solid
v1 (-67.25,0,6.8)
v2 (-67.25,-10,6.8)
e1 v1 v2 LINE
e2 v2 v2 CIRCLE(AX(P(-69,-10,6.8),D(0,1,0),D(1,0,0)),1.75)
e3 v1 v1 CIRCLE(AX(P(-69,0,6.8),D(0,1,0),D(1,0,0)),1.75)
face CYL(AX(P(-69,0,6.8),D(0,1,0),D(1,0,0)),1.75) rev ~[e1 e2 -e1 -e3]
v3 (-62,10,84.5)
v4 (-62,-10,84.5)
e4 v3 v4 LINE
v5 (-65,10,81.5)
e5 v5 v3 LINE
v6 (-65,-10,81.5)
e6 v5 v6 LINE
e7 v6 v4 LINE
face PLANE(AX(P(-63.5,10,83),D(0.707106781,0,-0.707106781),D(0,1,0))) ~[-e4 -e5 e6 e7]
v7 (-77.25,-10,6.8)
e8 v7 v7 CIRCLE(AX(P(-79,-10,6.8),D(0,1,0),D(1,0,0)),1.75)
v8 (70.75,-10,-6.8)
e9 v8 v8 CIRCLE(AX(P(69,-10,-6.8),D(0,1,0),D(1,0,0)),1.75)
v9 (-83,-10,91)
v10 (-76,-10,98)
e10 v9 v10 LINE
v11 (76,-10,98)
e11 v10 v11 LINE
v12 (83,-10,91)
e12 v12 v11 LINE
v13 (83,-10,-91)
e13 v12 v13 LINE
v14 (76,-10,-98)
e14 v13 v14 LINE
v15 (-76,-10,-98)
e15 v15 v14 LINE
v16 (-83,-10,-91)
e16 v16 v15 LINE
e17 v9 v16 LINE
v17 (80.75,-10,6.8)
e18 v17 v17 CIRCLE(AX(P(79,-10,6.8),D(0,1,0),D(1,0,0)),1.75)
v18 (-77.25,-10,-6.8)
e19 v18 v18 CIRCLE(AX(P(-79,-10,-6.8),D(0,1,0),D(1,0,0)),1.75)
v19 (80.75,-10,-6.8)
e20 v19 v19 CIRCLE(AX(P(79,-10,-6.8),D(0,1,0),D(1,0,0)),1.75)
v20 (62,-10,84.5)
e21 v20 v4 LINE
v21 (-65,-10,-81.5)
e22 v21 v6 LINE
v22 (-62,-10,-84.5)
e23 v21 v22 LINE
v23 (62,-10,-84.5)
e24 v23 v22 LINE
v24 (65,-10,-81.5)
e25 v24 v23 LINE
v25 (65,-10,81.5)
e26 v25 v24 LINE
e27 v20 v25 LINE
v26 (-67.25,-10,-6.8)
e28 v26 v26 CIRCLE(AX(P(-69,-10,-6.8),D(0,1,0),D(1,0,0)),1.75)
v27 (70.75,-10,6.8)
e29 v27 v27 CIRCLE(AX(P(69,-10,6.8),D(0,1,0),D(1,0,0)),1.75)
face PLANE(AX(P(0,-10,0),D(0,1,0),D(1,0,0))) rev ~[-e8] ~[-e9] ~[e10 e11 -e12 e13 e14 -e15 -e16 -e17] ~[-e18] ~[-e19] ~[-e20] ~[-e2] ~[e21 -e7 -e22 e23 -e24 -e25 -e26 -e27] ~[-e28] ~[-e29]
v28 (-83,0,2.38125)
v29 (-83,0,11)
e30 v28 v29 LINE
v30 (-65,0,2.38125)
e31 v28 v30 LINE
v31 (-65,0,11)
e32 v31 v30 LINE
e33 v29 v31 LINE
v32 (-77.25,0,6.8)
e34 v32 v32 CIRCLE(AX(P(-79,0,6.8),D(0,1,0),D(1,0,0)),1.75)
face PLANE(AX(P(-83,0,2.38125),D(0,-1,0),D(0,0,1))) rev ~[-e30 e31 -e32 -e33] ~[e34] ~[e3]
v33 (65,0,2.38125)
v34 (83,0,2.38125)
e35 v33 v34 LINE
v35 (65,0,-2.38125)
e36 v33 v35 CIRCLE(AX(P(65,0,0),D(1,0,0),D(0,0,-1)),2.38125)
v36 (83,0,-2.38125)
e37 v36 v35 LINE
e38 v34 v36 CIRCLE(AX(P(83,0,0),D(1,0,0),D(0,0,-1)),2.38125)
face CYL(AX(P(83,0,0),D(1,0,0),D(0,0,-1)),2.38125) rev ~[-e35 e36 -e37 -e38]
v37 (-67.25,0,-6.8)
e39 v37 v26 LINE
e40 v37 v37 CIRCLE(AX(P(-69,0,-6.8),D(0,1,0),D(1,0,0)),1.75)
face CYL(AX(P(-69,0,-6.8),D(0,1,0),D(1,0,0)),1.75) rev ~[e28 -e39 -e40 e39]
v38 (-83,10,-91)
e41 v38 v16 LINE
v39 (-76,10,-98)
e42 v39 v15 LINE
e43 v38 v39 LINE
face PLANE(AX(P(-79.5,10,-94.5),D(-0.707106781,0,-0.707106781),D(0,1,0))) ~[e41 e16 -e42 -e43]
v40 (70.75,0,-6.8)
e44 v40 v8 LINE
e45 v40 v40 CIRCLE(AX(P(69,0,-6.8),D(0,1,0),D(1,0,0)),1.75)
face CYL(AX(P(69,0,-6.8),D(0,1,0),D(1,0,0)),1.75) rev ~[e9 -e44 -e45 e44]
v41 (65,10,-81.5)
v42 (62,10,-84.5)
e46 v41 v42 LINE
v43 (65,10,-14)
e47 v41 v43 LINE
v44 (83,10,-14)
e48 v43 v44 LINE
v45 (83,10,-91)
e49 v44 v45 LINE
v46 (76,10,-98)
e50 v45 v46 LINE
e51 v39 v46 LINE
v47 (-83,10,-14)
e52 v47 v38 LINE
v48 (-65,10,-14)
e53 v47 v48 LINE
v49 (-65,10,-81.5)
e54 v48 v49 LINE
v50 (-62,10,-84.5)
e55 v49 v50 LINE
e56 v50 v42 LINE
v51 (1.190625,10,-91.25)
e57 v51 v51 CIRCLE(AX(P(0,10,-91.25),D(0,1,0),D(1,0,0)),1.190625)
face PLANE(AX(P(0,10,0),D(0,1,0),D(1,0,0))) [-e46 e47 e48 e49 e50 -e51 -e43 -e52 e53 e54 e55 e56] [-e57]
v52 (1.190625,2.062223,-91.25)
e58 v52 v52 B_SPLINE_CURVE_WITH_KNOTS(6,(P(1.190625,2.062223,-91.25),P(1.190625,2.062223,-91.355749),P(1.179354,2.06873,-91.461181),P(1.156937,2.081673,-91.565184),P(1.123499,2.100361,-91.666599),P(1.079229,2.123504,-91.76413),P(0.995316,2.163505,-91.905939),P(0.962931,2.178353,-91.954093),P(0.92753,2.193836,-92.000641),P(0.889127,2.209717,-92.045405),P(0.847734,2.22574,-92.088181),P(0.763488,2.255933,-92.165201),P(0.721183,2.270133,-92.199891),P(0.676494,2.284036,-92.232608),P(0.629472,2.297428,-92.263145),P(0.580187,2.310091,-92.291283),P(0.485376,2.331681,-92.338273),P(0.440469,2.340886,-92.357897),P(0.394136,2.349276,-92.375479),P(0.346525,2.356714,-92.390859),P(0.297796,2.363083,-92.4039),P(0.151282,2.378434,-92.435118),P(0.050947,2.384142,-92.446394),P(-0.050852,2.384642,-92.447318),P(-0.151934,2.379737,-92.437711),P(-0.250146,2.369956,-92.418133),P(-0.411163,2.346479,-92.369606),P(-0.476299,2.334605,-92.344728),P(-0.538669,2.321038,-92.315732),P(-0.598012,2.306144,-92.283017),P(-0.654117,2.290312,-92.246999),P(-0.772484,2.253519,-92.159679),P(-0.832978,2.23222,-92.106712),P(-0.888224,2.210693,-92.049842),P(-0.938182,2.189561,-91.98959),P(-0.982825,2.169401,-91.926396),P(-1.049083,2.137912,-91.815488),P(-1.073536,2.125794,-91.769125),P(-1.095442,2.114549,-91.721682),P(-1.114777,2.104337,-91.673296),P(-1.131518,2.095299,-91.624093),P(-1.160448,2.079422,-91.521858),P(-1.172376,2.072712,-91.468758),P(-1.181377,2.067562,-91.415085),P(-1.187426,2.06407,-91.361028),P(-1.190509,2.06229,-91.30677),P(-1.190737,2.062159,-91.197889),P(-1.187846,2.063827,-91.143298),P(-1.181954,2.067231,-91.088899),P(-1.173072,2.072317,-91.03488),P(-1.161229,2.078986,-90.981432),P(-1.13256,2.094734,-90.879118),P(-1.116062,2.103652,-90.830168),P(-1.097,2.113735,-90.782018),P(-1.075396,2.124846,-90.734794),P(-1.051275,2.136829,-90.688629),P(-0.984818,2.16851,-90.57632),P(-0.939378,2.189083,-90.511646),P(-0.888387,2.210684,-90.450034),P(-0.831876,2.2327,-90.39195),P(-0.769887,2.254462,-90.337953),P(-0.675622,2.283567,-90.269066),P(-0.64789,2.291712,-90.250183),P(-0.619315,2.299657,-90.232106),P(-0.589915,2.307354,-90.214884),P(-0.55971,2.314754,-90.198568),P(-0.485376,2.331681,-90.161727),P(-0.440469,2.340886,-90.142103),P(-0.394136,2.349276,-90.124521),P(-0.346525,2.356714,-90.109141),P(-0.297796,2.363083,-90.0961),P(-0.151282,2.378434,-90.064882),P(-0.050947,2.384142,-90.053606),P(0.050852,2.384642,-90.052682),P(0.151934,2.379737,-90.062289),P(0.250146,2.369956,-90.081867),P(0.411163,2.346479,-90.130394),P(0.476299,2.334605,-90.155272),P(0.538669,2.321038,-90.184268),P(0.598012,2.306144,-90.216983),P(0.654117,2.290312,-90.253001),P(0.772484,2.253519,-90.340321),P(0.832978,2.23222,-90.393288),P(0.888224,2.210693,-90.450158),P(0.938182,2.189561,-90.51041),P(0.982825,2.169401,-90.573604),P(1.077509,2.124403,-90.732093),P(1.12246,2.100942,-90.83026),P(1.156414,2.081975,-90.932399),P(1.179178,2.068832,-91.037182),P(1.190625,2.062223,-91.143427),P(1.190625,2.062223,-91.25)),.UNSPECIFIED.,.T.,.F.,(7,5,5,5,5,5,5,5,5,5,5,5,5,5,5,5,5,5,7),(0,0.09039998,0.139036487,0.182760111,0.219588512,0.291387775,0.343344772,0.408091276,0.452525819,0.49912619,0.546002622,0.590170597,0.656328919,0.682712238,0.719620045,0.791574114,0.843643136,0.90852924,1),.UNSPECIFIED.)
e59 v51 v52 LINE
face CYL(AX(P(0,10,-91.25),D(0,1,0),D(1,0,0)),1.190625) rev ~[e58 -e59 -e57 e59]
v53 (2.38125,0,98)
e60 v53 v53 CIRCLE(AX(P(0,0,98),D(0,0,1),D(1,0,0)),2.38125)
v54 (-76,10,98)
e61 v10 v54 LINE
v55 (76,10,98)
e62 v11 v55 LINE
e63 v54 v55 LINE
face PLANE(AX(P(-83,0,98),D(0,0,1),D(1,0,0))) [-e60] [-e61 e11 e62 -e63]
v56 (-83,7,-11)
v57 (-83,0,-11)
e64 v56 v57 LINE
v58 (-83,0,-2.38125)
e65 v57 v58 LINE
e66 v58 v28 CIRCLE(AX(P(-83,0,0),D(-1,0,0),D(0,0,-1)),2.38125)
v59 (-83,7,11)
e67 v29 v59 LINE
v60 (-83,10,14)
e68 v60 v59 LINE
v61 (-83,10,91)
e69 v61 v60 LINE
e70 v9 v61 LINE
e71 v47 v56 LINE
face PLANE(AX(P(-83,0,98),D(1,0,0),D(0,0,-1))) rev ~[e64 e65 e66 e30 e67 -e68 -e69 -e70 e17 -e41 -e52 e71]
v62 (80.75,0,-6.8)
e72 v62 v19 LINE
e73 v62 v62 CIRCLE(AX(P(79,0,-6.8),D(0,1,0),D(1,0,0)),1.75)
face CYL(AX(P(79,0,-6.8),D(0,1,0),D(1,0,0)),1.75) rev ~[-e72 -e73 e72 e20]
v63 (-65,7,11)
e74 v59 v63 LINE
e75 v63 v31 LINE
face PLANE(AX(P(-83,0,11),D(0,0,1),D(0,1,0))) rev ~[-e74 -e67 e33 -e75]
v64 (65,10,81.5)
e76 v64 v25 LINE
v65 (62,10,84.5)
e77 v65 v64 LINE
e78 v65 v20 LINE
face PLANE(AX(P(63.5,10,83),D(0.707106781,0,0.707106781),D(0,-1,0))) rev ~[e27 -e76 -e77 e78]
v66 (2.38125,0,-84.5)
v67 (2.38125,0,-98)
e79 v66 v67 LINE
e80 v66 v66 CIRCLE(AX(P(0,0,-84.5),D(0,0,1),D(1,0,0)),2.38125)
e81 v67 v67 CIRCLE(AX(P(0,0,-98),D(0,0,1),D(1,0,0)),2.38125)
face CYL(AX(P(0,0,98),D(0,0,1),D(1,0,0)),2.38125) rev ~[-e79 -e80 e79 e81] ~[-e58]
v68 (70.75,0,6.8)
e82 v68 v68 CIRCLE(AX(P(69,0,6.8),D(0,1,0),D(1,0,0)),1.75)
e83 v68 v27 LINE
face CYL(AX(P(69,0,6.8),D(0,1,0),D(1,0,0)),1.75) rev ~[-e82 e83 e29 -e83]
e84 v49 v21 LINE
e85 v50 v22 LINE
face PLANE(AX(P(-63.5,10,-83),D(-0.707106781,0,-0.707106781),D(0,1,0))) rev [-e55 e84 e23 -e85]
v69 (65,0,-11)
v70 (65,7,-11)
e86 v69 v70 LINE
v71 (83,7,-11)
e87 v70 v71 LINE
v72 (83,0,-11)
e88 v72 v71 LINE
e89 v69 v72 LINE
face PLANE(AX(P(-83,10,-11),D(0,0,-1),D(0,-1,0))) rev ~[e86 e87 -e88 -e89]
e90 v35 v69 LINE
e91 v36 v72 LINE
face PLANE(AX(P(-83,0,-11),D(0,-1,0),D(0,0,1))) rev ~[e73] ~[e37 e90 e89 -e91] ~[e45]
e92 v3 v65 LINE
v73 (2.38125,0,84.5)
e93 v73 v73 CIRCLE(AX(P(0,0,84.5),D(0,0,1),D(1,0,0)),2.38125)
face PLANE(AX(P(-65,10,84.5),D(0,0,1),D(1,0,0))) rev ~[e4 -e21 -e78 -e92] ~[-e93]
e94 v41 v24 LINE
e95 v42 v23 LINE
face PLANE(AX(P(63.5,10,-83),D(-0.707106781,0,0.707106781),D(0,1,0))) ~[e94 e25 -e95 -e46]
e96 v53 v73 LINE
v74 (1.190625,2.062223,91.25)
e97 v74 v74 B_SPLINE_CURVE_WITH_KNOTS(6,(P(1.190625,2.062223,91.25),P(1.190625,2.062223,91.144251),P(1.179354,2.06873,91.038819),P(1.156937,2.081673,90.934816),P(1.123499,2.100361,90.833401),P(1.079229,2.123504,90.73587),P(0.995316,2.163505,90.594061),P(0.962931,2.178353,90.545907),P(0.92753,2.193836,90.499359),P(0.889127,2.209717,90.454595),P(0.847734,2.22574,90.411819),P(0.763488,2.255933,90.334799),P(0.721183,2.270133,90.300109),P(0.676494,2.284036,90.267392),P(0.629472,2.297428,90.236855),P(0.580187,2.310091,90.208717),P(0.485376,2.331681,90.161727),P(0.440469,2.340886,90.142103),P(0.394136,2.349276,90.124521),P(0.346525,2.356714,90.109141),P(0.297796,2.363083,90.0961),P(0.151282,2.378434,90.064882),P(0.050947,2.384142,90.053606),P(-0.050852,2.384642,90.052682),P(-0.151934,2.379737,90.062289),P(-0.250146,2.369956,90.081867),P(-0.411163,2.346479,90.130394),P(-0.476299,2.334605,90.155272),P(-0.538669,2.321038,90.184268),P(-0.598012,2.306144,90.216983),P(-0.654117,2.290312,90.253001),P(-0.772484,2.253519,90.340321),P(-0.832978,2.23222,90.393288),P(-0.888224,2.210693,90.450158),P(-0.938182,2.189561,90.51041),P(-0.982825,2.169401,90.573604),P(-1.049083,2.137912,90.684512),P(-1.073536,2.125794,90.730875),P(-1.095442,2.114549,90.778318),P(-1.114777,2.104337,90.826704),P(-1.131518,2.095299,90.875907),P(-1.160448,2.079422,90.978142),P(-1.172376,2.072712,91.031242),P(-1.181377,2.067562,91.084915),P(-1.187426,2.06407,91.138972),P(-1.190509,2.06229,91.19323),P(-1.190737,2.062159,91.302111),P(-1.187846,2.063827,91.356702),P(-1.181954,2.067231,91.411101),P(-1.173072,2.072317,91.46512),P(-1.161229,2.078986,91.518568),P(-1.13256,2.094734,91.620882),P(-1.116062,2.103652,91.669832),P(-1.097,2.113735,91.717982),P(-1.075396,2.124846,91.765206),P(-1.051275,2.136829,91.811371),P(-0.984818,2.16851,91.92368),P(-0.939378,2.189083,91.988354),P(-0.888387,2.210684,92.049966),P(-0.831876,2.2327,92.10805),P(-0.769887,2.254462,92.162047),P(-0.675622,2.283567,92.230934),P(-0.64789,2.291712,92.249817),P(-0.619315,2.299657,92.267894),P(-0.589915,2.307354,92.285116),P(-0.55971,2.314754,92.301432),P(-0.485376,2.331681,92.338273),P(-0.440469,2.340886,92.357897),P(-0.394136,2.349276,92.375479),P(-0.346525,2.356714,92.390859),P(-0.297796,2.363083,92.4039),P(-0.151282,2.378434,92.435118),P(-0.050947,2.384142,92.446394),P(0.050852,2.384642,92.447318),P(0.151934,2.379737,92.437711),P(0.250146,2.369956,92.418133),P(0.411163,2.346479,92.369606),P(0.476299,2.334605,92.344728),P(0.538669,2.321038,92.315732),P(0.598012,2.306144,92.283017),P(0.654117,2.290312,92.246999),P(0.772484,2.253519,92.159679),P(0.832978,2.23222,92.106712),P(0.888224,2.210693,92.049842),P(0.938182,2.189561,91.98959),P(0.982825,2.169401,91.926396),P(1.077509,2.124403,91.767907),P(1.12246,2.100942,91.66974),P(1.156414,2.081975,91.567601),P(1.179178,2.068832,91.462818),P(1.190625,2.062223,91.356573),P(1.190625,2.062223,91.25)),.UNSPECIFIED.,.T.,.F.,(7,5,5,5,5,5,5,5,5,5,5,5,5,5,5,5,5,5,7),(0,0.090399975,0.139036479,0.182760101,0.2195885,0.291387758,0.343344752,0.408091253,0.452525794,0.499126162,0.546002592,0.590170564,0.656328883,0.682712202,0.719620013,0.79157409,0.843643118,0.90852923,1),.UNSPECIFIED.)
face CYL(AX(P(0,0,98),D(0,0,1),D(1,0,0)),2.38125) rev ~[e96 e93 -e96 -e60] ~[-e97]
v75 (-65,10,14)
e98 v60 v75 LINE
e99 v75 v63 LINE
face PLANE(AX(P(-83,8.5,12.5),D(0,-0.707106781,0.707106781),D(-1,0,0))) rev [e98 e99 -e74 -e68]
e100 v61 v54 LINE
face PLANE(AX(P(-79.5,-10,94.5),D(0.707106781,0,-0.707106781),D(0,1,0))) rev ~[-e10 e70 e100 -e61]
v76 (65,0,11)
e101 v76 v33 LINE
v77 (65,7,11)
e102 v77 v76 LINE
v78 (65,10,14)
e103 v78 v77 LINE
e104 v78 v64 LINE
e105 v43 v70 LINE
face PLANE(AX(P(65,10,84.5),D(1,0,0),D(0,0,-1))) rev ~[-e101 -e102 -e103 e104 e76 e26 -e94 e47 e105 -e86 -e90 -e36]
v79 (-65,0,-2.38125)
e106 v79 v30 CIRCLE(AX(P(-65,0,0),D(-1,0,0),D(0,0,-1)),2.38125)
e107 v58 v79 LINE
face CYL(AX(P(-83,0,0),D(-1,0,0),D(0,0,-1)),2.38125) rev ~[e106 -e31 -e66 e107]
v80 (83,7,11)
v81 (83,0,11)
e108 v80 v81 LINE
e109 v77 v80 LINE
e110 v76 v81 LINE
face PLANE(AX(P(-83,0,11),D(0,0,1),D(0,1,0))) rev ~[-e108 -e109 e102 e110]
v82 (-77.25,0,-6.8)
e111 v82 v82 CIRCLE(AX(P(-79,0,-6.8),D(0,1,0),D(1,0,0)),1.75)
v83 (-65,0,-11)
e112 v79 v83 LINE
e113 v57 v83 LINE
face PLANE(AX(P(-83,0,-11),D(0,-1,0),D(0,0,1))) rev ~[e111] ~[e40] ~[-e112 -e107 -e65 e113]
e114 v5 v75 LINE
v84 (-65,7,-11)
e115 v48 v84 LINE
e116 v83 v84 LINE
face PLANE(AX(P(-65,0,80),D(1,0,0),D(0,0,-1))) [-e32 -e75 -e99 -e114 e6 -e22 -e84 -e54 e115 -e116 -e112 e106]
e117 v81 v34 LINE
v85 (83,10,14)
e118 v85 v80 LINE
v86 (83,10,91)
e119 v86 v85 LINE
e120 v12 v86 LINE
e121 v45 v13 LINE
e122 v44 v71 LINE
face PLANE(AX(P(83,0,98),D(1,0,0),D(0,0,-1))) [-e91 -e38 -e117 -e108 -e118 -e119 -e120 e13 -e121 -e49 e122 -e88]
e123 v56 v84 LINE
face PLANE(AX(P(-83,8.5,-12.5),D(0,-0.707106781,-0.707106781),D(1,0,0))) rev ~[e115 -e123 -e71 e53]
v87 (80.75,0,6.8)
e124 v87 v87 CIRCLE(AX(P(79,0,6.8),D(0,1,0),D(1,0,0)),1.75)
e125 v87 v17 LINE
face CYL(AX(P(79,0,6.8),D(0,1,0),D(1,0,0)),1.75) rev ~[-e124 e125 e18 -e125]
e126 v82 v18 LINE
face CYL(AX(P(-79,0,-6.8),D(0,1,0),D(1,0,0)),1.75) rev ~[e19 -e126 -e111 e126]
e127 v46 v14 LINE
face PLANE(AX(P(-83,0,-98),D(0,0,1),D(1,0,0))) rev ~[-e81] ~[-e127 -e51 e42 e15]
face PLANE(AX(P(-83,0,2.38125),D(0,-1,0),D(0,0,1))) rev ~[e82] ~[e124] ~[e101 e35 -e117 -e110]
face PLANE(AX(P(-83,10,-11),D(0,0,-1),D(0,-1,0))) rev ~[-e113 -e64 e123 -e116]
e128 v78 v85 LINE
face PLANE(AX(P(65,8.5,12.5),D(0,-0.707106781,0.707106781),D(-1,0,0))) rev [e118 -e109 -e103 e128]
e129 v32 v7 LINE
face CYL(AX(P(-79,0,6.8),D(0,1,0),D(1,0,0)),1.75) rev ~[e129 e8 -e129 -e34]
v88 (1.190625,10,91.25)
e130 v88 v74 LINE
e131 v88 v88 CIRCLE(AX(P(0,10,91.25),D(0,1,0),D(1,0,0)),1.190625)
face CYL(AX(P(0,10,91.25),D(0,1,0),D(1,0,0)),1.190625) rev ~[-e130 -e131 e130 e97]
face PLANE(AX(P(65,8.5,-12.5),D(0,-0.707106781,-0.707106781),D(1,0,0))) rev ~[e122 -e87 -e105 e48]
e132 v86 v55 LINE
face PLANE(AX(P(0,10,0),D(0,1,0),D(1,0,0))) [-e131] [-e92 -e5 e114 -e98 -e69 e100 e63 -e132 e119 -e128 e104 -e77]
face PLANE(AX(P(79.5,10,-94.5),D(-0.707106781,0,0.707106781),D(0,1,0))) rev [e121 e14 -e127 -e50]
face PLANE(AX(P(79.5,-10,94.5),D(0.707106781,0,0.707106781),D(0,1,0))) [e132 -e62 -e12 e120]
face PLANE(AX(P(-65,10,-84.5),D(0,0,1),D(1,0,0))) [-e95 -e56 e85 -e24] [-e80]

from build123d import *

# Parameters (mm, degrees)
SKETCH1_W               = 166
SKETCH1_H               = 196
SKETCH1_W_2             = 130
SKETCH1_H_2             = 160
BOSS_EXTRUDE1_DEPTH     = 10
CUT_EXTRUDE1_REACH      = 168
SKETCH2_R               = 2.38125
CUT_EXTRUDE2_DEPTH      = 167
SKETCH5_R               = 2.38125
CUT_EXTRUDE4_DEPTH      = 1
CUT_EXTRUDE4_DEPTH_BACK = 197
CUT_EXTRUDE5_REACH      = 12
SKETCH6_R               = 1.75
CUT_EXTRUDE7_REACH      = 22
SKETCH8_W               = 130
SKETCH8_H               = 4.5
CHAMFER9_SIZE           = 7
CHAMFER10_SIZE          = 3
CUT_EXTRUDE8_REACH      = 22
SKETCH9_R               = 1.190625
CHAMFER11_SIZE          = 3


with BuildPart() as part:
    # Sketch1 → Boss-Extrude1 (new body, symmetric)
    with BuildSketch(Plane(origin=(0, 0, 0), x_dir=(1, 0, 0), z_dir=(0, 1, 0))):
        Rectangle(SKETCH1_W, SKETCH1_H)
        Rectangle(SKETCH1_W_2, SKETCH1_H_2, mode=Mode.SUBTRACT)
    extrude(amount=BOSS_EXTRUDE1_DEPTH, both=True)

    # Sketch2 → Cut-Extrude1 (cut, up to next)
    with BuildSketch(Plane(origin=(83, 0, 0), x_dir=(0, 0, -1), z_dir=(1, 0, 0)), mode=Mode.PRIVATE) as cut_extrude1_sk1:
        Circle(SKETCH2_R)
    cut_extrude1_tool1 = extrude(cut_extrude1_sk1.sketch, amount=-CUT_EXTRUDE1_REACH, mode=Mode.PRIVATE) & part.part
    add(cut_extrude1_tool1.solids().sort_by_distance((83, 0, 0))[0], mode=Mode.SUBTRACT)

    # Sketch3 → Cut-Extrude2 (cut, through all)
    with BuildSketch(Plane.ZY.offset(83)):
        with BuildLine():
            ThreePointArc((-2.38125, 0), (0, 2.38125), (2.38125, 0))
            Line((2.38125, 0), (11, 0))
            Line((11, 0), (11, 10))
            Line((11, 10), (-11, 10))
            Line((-11, 10), (-11, 0))
            Line((-11, 0), (-2.38125, 0))
        make_face()
        with BuildLine():
            ThreePointArc((-2.38125, 0), (0, -2.38125), (2.38125, 0))
            Line((2.38125, 0), (-2.38125, 0))
        make_face()
        with BuildLine():
            Line((-2.38125, 0), (2.38125, 0))
            ThreePointArc((2.38125, 0), (0, 2.38125), (-2.38125, 0))
        make_face()
    extrude(amount=-CUT_EXTRUDE2_DEPTH, mode=Mode.SUBTRACT)

    # Sketch5 → Cut-Extrude4 (cut, two sides)
    with BuildSketch(Plane.XY.offset(98)) as cut_extrude4_sk:
        Circle(SKETCH5_R)
    extrude(amount=CUT_EXTRUDE4_DEPTH, mode=Mode.SUBTRACT)
    extrude(cut_extrude4_sk.sketch, amount=-CUT_EXTRUDE4_DEPTH_BACK, mode=Mode.SUBTRACT)

    # Sketch6 → Cut-Extrude5 (cut, up to next)
    with BuildSketch(Plane(origin=(0, 0, 0), x_dir=(1, 0, 0), z_dir=(0, 1, 0)), mode=Mode.PRIVATE) as cut_extrude5_sk1:
        with Locations((-69, 6.8)):
            Circle(SKETCH6_R)
    cut_extrude5_tool1 = extrude(cut_extrude5_sk1.sketch, amount=-CUT_EXTRUDE5_REACH, mode=Mode.PRIVATE) & part.part
    add(cut_extrude5_tool1.solids().sort_by_distance((-69, 0, -6.8))[0], mode=Mode.SUBTRACT)
    # Sketch6 → Cut-Extrude5 (cut, up to next)
    with BuildSketch(Plane(origin=(0, 0, 0), x_dir=(1, 0, 0), z_dir=(0, 1, 0)), mode=Mode.PRIVATE) as cut_extrude5_sk2:
        with Locations((-69, -6.8)):
            Circle(SKETCH6_R)
    cut_extrude5_tool2 = extrude(cut_extrude5_sk2.sketch, amount=-CUT_EXTRUDE5_REACH, mode=Mode.PRIVATE) & part.part
    add(cut_extrude5_tool2.solids().sort_by_distance((-69, 0, 6.8))[0], mode=Mode.SUBTRACT)
    # Sketch6 → Cut-Extrude5 (cut, up to next)
    with BuildSketch(Plane(origin=(0, 0, 0), x_dir=(1, 0, 0), z_dir=(0, 1, 0)), mode=Mode.PRIVATE) as cut_extrude5_sk3:
        with Locations((-79, -6.8)):
            Circle(SKETCH6_R)
    cut_extrude5_tool3 = extrude(cut_extrude5_sk3.sketch, amount=-CUT_EXTRUDE5_REACH, mode=Mode.PRIVATE) & part.part
    add(cut_extrude5_tool3.solids().sort_by_distance((-79, 0, 6.8))[0], mode=Mode.SUBTRACT)
    # Sketch6 → Cut-Extrude5 (cut, up to next)
    with BuildSketch(Plane(origin=(0, 0, 0), x_dir=(1, 0, 0), z_dir=(0, 1, 0)), mode=Mode.PRIVATE) as cut_extrude5_sk4:
        with Locations((-79, 6.8)):
            Circle(SKETCH6_R)
    cut_extrude5_tool4 = extrude(cut_extrude5_sk4.sketch, amount=-CUT_EXTRUDE5_REACH, mode=Mode.PRIVATE) & part.part
    add(cut_extrude5_tool4.solids().sort_by_distance((-79, 0, -6.8))[0], mode=Mode.SUBTRACT)
    # Sketch6 → Cut-Extrude5 (cut, up to next)
    with BuildSketch(Plane(origin=(0, 0, 0), x_dir=(1, 0, 0), z_dir=(0, 1, 0)), mode=Mode.PRIVATE) as cut_extrude5_sk5:
        with Locations((79, 6.8)):
            Circle(SKETCH6_R)
    cut_extrude5_tool5 = extrude(cut_extrude5_sk5.sketch, amount=-CUT_EXTRUDE5_REACH, mode=Mode.PRIVATE) & part.part
    add(cut_extrude5_tool5.solids().sort_by_distance((79, 0, -6.8))[0], mode=Mode.SUBTRACT)
    # Sketch6 → Cut-Extrude5 (cut, up to next)
    with BuildSketch(Plane(origin=(0, 0, 0), x_dir=(1, 0, 0), z_dir=(0, 1, 0)), mode=Mode.PRIVATE) as cut_extrude5_sk6:
        with Locations((79, -6.8)):
            Circle(SKETCH6_R)
    cut_extrude5_tool6 = extrude(cut_extrude5_sk6.sketch, amount=-CUT_EXTRUDE5_REACH, mode=Mode.PRIVATE) & part.part
    add(cut_extrude5_tool6.solids().sort_by_distance((79, 0, 6.8))[0], mode=Mode.SUBTRACT)
    # Sketch6 → Cut-Extrude5 (cut, up to next)
    with BuildSketch(Plane(origin=(0, 0, 0), x_dir=(1, 0, 0), z_dir=(0, 1, 0)), mode=Mode.PRIVATE) as cut_extrude5_sk7:
        with Locations((69, -6.8)):
            Circle(SKETCH6_R)
    cut_extrude5_tool7 = extrude(cut_extrude5_sk7.sketch, amount=-CUT_EXTRUDE5_REACH, mode=Mode.PRIVATE) & part.part
    add(cut_extrude5_tool7.solids().sort_by_distance((69, 0, 6.8))[0], mode=Mode.SUBTRACT)
    # Sketch6 → Cut-Extrude5 (cut, up to next)
    with BuildSketch(Plane(origin=(0, 0, 0), x_dir=(1, 0, 0), z_dir=(0, 1, 0)), mode=Mode.PRIVATE) as cut_extrude5_sk8:
        with Locations((69, 6.8)):
            Circle(SKETCH6_R)
    cut_extrude5_tool8 = extrude(cut_extrude5_sk8.sketch, amount=-CUT_EXTRUDE5_REACH, mode=Mode.PRIVATE) & part.part
    add(cut_extrude5_tool8.solids().sort_by_distance((69, 0, -6.8))[0], mode=Mode.SUBTRACT)

    # Sketch8 → Cut-Extrude7 (cut, up to next)
    with BuildSketch(Plane(origin=(0, 10, 0), x_dir=(1, 0, 0), z_dir=(0, 1, 0)), mode=Mode.PRIVATE) as cut_extrude7_sk1:
        with Locations((0, 82.25)):
            Rectangle(SKETCH8_W, SKETCH8_H)
    cut_extrude7_tool1 = extrude(cut_extrude7_sk1.sketch, amount=-CUT_EXTRUDE7_REACH, mode=Mode.PRIVATE) & part.part
    add(cut_extrude7_tool1.solids().sort_by_distance((0, 10, -82.25))[0], mode=Mode.SUBTRACT)
    # Sketch8 → Cut-Extrude7 (cut, up to next)
    with BuildSketch(Plane(origin=(0, 10, 0), x_dir=(1, 0, 0), z_dir=(0, 1, 0)), mode=Mode.PRIVATE) as cut_extrude7_sk2:
        with Locations((0, -82.25)):
            Rectangle(SKETCH8_W, SKETCH8_H)
    cut_extrude7_tool2 = extrude(cut_extrude7_sk2.sketch, amount=-CUT_EXTRUDE7_REACH, mode=Mode.PRIVATE) & part.part
    add(cut_extrude7_tool2.solids().sort_by_distance((0, 10, 82.25))[0], mode=Mode.SUBTRACT)

    # Chamfer9
    chamfer9_edges = [part.edges().sort_by_distance(p)[0] for p in [
        (83, 0, -98),
        (83, 0, 98),
        (-83, 0, 98),
        (-83, 0, -98),
    ]]
    chamfer(chamfer9_edges, length=CHAMFER9_SIZE)

    # Chamfer10
    chamfer10_edges = [part.edges().sort_by_distance(p)[0] for p in [
        (-65, 0, -84.5),
        (65, 0, -84.5),
        (65, 0, 84.5),
        (-65, 0, 84.5),
    ]]
    chamfer(chamfer10_edges, length=CHAMFER10_SIZE)

    # Sketch9 → Cut-Extrude8 (cut, up to next)
    with BuildSketch(Plane(origin=(0, 10, 0), x_dir=(1, 0, 0), z_dir=(0, 1, 0)), mode=Mode.PRIVATE) as cut_extrude8_sk1:
        with Locations((0, 91.25)):
            Circle(SKETCH9_R)
    cut_extrude8_tool1 = extrude(cut_extrude8_sk1.sketch, amount=-CUT_EXTRUDE8_REACH, mode=Mode.PRIVATE) & part.part
    add(cut_extrude8_tool1.solids().sort_by_distance((0, 10, -91.25))[0], mode=Mode.SUBTRACT)
    # Sketch9 → Cut-Extrude8 (cut, up to next)
    with BuildSketch(Plane(origin=(0, 10, 0), x_dir=(1, 0, 0), z_dir=(0, 1, 0)), mode=Mode.PRIVATE) as cut_extrude8_sk2:
        with Locations((0, -91.25)):
            Circle(SKETCH9_R)
    cut_extrude8_tool2 = extrude(cut_extrude8_sk2.sketch, amount=-CUT_EXTRUDE8_REACH, mode=Mode.PRIVATE) & part.part
    add(cut_extrude8_tool2.solids().sort_by_distance((0, 10, 91.25))[0], mode=Mode.SUBTRACT)

    # Chamfer11
    chamfer11_edges = [part.edges().sort_by_distance(p)[0] for p in [
        (74, 10, -11),
        (74, 10, 11),
        (-74, 10, -11),
        (-74, 10, 11),
    ]]
    chamfer(chamfer11_edges, length=CHAMFER11_SIZE)


solid = part.part
